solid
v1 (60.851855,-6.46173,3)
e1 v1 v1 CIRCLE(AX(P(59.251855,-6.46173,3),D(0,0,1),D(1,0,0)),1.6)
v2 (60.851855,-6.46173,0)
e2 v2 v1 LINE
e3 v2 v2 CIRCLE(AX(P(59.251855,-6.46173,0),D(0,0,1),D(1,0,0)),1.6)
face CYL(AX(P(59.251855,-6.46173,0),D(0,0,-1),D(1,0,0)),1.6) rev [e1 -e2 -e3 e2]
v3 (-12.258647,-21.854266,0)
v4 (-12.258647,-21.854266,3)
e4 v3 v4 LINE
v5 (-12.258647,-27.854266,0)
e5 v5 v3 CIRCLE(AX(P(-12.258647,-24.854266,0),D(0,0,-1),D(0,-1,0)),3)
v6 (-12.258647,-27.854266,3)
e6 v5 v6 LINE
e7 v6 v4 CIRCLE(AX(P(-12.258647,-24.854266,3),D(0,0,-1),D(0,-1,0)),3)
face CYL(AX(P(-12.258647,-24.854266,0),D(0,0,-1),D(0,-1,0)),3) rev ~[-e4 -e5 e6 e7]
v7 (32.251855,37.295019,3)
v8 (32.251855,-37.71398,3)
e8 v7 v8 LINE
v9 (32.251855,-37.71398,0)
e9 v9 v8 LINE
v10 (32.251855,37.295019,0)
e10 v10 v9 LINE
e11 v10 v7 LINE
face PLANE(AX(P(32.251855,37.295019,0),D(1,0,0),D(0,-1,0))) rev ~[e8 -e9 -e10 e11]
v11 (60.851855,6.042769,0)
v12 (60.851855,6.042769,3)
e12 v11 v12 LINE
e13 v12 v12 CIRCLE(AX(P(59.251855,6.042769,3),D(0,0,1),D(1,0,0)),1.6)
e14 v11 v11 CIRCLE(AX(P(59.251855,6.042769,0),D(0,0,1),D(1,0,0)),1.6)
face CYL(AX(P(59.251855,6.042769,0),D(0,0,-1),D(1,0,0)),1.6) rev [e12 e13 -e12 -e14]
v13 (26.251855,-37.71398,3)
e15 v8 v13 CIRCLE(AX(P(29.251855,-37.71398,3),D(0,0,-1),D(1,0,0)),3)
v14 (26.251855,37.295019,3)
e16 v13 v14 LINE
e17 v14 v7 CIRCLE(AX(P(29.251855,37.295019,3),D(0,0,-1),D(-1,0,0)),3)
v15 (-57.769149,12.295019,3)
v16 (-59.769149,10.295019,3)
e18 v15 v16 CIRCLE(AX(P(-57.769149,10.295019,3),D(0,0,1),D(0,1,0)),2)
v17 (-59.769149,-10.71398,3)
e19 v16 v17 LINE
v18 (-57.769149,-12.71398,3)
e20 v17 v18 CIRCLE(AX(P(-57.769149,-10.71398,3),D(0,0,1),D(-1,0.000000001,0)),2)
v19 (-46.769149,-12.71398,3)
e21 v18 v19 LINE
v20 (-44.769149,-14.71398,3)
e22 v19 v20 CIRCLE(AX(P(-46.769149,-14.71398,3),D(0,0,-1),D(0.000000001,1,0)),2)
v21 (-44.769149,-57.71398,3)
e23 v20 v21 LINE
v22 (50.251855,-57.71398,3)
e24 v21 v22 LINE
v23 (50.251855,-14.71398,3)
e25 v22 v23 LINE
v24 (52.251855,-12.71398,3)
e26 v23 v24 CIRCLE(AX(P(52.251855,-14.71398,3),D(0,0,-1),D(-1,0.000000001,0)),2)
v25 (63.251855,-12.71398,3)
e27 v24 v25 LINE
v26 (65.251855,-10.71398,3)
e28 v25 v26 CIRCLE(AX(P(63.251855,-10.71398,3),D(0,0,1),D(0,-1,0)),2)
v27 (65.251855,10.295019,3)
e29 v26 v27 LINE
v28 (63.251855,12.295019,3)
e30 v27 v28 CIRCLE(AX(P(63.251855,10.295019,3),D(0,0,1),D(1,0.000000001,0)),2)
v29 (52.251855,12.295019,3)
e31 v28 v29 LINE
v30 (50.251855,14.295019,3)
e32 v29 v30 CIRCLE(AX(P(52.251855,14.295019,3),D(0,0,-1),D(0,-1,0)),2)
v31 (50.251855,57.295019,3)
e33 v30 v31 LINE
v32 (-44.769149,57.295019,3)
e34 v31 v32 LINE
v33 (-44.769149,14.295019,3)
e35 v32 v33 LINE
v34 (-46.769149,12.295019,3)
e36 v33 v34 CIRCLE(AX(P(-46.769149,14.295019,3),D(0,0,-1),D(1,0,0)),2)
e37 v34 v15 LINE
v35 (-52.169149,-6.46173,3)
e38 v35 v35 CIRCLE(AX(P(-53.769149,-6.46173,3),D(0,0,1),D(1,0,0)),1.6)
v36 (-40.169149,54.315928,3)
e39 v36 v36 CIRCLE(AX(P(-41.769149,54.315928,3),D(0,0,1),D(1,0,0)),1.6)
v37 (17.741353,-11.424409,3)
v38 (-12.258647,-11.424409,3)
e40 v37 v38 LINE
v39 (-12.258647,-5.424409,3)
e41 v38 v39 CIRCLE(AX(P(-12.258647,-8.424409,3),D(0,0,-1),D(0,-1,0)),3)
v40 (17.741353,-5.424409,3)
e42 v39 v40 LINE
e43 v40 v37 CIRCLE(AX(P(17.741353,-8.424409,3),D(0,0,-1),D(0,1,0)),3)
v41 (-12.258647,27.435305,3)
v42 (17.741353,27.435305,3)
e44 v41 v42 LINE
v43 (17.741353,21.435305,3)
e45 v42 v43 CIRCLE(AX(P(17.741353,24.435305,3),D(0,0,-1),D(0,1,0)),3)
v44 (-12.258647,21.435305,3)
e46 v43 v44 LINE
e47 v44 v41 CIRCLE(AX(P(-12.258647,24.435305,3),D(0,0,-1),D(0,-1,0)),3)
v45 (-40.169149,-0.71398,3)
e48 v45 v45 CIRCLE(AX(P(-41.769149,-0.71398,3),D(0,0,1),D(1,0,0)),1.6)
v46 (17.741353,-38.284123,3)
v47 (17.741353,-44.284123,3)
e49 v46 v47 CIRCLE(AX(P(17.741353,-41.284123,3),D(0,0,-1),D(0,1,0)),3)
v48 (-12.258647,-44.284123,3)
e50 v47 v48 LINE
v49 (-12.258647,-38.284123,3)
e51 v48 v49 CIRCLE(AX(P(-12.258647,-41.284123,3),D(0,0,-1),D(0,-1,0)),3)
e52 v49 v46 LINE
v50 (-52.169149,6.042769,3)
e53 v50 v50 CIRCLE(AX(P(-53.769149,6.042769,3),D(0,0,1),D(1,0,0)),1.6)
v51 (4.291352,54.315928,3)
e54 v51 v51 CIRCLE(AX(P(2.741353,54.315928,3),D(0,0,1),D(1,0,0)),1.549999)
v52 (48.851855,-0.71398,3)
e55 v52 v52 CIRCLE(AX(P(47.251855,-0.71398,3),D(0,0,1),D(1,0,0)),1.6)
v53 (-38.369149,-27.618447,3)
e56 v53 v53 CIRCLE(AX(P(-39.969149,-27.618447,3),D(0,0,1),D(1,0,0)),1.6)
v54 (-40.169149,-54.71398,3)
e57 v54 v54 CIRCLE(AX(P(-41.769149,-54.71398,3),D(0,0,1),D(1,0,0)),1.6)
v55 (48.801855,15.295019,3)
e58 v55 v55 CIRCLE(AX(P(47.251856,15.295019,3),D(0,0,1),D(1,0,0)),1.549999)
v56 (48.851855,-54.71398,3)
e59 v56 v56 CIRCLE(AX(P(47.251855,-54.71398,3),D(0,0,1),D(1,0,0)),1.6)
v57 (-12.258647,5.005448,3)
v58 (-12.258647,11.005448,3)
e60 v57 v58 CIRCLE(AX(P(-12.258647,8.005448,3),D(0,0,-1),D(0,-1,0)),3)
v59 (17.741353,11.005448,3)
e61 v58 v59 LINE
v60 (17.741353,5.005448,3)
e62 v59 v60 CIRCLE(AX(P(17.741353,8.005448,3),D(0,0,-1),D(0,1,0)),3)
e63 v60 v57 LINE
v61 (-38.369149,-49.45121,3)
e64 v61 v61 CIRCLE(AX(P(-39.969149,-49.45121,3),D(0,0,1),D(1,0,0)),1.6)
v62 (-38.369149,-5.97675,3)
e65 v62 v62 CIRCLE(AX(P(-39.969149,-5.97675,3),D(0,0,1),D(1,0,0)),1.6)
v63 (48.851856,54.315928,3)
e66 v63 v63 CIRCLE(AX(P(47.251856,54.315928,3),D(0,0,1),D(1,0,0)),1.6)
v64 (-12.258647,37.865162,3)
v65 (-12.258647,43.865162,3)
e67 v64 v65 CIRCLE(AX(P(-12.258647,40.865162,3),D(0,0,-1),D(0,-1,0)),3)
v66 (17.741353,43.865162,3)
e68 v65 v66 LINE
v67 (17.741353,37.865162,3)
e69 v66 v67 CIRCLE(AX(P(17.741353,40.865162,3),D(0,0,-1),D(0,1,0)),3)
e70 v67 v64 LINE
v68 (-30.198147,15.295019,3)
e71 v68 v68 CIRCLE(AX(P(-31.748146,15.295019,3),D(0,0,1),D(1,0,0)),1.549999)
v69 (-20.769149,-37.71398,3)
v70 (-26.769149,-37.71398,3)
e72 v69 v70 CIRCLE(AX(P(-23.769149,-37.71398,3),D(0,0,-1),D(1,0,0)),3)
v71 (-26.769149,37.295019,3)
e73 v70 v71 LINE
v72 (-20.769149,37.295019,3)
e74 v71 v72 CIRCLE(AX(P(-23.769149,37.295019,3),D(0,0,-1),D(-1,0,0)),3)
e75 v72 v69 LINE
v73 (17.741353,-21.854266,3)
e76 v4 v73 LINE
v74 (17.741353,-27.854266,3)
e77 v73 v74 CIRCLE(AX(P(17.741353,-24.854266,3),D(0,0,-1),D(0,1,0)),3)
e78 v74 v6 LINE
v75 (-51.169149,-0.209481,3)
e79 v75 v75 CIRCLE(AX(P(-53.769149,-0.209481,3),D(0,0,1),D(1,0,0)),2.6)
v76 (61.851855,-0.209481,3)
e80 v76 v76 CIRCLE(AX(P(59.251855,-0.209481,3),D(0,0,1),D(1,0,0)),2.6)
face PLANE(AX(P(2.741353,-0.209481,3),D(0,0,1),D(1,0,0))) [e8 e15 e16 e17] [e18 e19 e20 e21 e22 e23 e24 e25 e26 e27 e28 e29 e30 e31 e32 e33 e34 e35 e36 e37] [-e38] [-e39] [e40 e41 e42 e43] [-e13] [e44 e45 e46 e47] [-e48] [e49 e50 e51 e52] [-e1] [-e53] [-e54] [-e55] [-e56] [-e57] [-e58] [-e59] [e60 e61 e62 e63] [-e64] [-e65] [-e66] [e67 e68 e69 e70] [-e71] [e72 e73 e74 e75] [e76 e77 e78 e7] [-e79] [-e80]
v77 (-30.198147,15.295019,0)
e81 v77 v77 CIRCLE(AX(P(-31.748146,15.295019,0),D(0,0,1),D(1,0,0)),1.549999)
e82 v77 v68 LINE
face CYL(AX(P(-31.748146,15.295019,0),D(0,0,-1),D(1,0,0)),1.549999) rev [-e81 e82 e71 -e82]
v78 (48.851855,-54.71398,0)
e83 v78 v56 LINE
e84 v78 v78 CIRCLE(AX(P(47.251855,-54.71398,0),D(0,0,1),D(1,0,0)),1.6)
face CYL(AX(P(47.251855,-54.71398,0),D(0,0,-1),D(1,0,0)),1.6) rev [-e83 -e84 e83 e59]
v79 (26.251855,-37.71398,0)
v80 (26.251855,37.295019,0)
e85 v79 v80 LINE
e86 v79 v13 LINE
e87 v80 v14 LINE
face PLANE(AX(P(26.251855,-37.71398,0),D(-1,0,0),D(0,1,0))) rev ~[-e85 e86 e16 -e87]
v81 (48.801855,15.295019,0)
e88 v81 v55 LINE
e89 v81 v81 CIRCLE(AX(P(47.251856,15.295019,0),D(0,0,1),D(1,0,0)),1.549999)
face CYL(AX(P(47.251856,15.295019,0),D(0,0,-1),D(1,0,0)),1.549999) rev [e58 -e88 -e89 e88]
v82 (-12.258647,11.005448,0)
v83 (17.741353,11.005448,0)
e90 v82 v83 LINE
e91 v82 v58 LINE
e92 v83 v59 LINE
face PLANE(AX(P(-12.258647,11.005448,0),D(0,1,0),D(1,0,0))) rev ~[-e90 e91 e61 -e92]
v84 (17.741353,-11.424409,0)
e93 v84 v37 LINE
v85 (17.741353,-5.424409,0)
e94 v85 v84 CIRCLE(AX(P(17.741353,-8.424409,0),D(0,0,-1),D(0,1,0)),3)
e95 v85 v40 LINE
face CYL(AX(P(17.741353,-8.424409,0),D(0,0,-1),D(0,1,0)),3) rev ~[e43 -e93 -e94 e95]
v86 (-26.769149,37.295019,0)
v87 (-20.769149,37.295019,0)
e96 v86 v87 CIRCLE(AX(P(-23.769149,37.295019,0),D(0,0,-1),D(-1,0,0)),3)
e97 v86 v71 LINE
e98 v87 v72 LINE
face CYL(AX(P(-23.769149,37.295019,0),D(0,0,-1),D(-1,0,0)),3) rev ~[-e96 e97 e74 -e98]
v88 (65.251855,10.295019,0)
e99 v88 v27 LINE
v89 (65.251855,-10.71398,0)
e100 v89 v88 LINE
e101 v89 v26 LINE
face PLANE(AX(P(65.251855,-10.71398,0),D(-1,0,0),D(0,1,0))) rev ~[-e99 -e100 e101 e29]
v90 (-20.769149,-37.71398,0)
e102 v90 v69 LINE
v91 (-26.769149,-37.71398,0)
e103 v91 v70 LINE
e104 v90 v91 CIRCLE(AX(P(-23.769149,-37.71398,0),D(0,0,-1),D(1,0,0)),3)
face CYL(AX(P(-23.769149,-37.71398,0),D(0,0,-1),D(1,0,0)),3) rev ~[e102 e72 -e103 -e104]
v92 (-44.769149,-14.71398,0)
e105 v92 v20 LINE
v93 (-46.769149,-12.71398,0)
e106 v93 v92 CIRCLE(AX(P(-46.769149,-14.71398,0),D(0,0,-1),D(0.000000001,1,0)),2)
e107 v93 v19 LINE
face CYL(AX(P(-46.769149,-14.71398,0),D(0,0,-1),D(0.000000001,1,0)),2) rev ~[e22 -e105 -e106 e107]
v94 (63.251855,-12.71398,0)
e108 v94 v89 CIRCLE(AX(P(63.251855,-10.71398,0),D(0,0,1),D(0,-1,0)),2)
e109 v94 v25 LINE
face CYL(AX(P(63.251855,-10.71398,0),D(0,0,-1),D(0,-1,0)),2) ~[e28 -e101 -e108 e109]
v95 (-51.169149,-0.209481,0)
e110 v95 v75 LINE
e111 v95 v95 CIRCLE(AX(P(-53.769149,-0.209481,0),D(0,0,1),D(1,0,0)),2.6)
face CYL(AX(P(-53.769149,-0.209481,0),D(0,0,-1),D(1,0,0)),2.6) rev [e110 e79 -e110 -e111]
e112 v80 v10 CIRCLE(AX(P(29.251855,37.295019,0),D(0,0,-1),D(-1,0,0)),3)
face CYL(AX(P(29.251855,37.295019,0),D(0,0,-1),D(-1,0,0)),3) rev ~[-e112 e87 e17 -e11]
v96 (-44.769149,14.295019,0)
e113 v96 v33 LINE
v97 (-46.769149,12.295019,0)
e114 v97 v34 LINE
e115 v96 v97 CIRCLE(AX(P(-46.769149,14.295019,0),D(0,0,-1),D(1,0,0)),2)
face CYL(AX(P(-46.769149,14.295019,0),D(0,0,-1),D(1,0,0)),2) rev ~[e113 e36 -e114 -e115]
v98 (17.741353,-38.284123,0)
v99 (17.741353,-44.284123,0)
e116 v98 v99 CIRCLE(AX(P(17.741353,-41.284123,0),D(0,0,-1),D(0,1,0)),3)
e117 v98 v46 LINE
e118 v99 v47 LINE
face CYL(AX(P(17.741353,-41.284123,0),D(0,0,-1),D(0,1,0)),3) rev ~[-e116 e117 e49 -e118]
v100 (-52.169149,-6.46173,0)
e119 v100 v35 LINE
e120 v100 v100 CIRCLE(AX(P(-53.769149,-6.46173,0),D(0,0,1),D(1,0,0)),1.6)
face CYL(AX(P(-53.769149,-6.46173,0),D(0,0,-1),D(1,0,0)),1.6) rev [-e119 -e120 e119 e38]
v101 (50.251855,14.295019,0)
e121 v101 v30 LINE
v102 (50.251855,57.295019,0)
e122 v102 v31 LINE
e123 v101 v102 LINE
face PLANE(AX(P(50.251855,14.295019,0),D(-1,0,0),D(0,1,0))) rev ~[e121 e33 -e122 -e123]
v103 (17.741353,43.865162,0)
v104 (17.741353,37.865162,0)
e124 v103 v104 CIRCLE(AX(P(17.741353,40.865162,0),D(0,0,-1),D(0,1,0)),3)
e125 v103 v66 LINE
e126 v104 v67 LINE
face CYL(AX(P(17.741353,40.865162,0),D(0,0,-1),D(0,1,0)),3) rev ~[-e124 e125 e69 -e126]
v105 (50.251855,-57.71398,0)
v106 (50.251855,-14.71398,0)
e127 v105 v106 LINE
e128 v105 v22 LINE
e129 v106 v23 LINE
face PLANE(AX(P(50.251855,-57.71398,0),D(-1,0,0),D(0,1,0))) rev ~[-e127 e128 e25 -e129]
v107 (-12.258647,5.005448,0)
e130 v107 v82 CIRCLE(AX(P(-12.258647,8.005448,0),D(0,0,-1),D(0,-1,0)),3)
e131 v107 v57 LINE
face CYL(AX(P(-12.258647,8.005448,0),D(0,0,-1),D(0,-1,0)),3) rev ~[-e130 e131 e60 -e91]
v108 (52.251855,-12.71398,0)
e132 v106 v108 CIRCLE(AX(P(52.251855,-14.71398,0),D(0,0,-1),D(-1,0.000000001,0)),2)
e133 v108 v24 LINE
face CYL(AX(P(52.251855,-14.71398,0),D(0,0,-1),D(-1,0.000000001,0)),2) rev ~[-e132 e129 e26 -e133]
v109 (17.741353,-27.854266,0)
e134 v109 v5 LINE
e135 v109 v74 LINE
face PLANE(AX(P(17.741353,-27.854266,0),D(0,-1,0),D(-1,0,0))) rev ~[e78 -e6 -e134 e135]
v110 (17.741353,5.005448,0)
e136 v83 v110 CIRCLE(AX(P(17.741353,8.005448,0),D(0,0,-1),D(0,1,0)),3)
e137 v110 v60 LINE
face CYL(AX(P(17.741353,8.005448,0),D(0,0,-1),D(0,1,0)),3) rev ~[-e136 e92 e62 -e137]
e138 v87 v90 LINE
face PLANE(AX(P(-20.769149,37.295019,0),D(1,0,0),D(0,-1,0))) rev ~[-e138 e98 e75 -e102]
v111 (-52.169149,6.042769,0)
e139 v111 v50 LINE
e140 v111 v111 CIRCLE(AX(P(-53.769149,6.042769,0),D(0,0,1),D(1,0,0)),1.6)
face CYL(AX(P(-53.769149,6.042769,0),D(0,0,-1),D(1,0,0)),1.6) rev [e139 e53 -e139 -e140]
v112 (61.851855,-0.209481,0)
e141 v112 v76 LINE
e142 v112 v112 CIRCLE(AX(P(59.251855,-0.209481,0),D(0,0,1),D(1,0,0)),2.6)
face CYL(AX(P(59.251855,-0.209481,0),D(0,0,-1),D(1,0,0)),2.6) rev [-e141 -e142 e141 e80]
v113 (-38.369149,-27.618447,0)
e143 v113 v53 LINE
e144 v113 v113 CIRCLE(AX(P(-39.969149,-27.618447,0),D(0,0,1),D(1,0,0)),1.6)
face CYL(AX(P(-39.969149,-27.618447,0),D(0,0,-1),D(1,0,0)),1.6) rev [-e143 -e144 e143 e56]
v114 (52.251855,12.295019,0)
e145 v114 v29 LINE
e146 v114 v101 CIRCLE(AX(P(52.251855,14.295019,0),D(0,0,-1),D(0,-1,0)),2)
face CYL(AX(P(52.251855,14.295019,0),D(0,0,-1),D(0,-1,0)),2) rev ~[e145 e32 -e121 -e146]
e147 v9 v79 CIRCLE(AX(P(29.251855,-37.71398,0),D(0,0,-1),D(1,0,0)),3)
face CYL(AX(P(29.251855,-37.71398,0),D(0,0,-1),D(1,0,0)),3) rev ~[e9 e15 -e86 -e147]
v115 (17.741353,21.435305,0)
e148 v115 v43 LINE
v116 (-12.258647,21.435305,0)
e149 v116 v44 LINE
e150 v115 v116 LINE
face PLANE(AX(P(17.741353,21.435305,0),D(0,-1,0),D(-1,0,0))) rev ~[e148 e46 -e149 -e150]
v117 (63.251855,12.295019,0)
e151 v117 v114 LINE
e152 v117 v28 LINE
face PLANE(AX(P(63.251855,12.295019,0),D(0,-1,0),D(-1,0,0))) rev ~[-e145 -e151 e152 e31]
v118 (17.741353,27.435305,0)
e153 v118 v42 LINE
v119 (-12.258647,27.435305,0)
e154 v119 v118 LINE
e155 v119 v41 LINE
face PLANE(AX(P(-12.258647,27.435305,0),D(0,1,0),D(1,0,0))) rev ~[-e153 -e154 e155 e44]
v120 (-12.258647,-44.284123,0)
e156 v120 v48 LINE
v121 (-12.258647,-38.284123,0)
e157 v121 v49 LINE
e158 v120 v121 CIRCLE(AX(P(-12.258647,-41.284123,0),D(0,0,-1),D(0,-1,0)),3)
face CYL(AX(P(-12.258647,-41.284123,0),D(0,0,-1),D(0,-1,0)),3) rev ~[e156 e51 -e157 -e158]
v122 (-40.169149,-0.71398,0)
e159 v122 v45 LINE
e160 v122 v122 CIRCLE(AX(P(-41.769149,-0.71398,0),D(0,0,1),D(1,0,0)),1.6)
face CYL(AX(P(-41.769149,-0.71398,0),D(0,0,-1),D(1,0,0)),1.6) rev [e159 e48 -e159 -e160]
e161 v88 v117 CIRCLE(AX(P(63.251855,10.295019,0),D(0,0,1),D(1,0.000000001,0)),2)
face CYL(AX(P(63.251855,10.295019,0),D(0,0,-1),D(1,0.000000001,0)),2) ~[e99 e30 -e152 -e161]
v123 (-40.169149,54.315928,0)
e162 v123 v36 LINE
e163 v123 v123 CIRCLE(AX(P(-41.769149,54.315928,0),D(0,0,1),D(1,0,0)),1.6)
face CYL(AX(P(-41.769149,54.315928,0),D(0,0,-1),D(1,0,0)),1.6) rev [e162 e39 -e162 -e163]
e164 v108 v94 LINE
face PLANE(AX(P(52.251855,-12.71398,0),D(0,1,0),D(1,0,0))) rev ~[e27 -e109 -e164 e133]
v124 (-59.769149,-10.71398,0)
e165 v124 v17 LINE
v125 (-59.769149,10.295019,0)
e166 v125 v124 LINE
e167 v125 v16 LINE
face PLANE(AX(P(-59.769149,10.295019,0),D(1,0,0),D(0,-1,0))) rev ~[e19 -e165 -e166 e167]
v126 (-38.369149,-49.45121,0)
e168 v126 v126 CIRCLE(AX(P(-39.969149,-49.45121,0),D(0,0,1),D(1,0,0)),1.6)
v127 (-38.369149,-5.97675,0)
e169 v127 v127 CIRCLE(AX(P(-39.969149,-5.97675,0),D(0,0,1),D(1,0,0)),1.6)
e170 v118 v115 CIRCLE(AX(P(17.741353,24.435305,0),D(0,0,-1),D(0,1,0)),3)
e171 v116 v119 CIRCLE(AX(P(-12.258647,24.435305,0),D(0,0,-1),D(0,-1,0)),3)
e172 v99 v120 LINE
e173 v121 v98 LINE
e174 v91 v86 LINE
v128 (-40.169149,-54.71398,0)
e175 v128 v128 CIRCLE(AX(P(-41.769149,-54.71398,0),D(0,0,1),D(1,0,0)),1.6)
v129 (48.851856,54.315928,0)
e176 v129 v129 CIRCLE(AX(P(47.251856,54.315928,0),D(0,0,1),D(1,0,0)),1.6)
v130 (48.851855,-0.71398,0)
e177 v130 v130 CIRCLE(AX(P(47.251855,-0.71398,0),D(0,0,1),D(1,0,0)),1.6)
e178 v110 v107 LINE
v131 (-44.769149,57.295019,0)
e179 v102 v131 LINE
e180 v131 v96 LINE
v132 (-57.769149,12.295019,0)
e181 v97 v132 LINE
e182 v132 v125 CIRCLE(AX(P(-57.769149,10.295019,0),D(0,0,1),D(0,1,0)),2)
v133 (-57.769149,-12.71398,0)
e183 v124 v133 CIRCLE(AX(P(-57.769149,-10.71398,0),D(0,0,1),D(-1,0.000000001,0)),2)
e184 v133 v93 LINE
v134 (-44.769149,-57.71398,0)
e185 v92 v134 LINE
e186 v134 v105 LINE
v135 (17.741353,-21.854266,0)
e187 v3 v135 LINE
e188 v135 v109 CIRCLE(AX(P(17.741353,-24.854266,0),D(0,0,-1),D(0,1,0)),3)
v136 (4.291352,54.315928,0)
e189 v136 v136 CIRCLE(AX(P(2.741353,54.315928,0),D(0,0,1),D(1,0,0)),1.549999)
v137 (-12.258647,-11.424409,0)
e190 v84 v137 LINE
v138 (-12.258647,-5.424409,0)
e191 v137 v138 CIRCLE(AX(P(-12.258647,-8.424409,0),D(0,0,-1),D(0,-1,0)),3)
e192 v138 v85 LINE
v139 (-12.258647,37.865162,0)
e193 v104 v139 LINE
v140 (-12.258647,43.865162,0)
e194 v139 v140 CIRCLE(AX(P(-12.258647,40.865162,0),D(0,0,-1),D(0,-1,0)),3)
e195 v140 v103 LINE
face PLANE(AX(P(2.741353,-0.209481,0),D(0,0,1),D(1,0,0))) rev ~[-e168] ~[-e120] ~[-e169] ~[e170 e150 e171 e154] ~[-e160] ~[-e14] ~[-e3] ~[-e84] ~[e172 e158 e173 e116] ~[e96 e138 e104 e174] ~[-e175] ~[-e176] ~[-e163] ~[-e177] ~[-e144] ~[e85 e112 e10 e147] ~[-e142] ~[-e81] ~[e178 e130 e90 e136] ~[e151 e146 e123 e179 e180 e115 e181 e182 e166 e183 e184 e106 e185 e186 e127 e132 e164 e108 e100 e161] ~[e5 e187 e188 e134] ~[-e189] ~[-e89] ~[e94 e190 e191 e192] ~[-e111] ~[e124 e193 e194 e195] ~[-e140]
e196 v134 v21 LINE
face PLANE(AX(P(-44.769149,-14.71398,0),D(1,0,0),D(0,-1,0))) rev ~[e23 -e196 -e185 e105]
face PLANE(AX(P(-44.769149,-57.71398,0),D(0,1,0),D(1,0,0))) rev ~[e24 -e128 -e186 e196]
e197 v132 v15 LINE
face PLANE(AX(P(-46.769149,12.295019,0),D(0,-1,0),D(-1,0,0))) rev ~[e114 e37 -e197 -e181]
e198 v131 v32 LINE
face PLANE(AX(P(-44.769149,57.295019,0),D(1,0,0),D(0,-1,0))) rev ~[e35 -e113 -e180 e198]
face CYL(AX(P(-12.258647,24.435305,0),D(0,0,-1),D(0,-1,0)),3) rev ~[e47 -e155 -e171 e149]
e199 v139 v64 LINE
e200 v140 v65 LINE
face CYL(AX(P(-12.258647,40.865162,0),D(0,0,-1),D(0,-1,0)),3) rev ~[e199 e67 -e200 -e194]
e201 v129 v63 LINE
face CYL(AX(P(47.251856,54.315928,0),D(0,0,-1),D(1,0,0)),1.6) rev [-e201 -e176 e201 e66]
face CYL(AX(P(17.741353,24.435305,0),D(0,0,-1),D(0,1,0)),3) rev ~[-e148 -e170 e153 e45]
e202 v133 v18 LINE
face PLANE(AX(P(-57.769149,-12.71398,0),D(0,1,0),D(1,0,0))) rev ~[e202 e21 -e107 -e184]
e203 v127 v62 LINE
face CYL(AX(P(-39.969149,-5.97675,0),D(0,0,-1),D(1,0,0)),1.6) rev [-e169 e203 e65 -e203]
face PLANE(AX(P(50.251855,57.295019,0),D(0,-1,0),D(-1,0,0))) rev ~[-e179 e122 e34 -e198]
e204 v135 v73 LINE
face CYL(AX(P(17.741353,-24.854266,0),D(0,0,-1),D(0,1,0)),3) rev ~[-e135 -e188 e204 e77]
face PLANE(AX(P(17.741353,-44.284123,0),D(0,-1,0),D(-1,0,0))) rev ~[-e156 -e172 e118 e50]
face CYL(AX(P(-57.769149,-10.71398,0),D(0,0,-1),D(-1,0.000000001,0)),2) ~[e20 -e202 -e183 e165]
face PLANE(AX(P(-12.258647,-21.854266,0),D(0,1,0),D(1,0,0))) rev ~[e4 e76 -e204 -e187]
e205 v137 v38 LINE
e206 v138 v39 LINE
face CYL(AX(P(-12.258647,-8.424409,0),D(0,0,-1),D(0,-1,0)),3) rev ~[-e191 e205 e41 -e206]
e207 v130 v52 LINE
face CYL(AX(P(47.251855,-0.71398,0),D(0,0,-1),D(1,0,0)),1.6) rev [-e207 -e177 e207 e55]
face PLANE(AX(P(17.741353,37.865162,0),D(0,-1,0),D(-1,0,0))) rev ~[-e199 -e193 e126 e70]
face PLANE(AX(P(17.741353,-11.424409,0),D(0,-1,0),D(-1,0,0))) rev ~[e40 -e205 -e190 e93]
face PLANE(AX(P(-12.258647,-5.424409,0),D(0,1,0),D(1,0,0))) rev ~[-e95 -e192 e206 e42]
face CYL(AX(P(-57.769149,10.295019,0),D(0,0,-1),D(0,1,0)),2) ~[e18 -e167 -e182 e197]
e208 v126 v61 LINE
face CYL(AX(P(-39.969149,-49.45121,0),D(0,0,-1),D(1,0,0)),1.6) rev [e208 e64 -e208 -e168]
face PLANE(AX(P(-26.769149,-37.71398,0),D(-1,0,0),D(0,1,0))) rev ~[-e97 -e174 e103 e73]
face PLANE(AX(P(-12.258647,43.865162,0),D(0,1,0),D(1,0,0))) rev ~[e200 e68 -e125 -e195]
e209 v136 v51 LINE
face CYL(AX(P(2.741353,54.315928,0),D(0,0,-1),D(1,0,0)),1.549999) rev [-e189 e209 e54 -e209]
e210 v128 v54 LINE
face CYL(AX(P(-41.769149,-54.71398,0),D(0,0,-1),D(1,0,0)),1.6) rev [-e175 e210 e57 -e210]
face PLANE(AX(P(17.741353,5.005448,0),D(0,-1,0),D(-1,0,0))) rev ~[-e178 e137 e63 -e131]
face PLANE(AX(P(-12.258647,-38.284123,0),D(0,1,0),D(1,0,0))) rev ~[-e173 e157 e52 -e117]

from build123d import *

# Parameters (mm, degrees)
SKETCH4_R           = 1.54999944
SKETCH4_R_2         = 1.6
SKETCH4_R_3         = 2.6
BOSS_EXTRUDE6_DEPTH = 3


with BuildPart() as part:
    # Sketch4 → Boss-Extrude6 (new body)
    with BuildSketch(Plane.XY):
        with BuildLine():
            Line((50.251854725, 14.295018861), (50.251854725, 57.295018861))
            Line((50.251854725, 57.295018861), (-44.769148998, 57.295018861))
            Line((-44.769148998, 57.295018861), (-44.769148998, 14.295018861))
            ThreePointArc((-44.769148998, 14.295018861), (-45.354935436, 12.880805298), (-46.769148998, 12.295018861))
            Line((-46.769148998, 12.295018861), (-57.769148998, 12.295018861))
            ThreePointArc((-57.769148998, 12.295018861), (-59.183362561, 11.709232423), (-59.769148998, 10.295018861))
            Line((-59.769148998, 10.295018861), (-59.769148998, -10.71398001))
            ThreePointArc((-59.769148998, -10.71398001), (-59.183362561, -12.128193573), (-57.769148998, -12.71398001))
            Line((-57.769148998, -12.71398001), (-46.769148998, -12.71398001))
            ThreePointArc((-46.769148998, -12.71398001), (-45.354935436, -13.299766448), (-44.769148998, -14.71398001))
            Line((-44.769148998, -14.71398001), (-44.769148998, -57.71398001))
            Line((-44.769148998, -57.71398001), (50.251854725, -57.71398001))
            Line((50.251854725, -57.71398001), (50.251854725, -14.71398001))
            ThreePointArc((50.251854725, -14.71398001), (50.837641163, -13.299766448), (52.251854725, -12.71398001))
            Line((52.251854725, -12.71398001), (63.251854725, -12.71398001))
            ThreePointArc((63.251854725, -12.71398001), (64.666068287, -12.128193573), (65.251854725, -10.71398001))
            Line((65.251854725, -10.71398001), (65.251854725, 10.295018861))
            ThreePointArc((65.251854725, 10.295018861), (64.666068287, 11.709232423), (63.251854725, 12.295018861))
            Line((63.251854725, 12.295018861), (52.251854725, 12.295018861))
            ThreePointArc((52.251854725, 12.295018861), (50.837641163, 12.880805298), (50.251854725, 14.295018861))
        make_face()
        with Locations((47.251855645, 15.295019041)):
            Circle(SKETCH4_R, mode=Mode.SUBTRACT)
        with Locations((2.741352863, 54.315928454)):
            Circle(SKETCH4_R, mode=Mode.SUBTRACT)
        with Locations((-31.748146375, 15.295019041)):
            Circle(SKETCH4_R, mode=Mode.SUBTRACT)
        with Locations((-41.769148998, -0.71398001)):
            Circle(SKETCH4_R_2, mode=Mode.SUBTRACT)
        with Locations((47.251854725, -0.71398001)):
            Circle(SKETCH4_R_2, mode=Mode.SUBTRACT)
        with Locations((-41.769148998, -54.71398001)):
            Circle(SKETCH4_R_2, mode=Mode.SUBTRACT)
        with Locations((47.251854725, -54.71398001)):
            Circle(SKETCH4_R_2, mode=Mode.SUBTRACT)
        with Locations((-39.969148998, -5.97675003)):
            Circle(SKETCH4_R_2, mode=Mode.SUBTRACT)
        with Locations((-39.969148998, -27.618447294)):
            Circle(SKETCH4_R_2, mode=Mode.SUBTRACT)
        with Locations((-39.969148998, -49.451209991)):
            Circle(SKETCH4_R_2, mode=Mode.SUBTRACT)
        with Locations((59.251854725, -0.209480575)):
            Circle(SKETCH4_R_3, mode=Mode.SUBTRACT)
        with Locations((-41.769148998, 54.315928454)):
            Circle(SKETCH4_R_2, mode=Mode.SUBTRACT)
        with Locations((47.251855645, 54.315928454)):
            Circle(SKETCH4_R_2, mode=Mode.SUBTRACT)
        with Locations((59.251854725, 6.042769143)):
            Circle(SKETCH4_R_2, mode=Mode.SUBTRACT)
        with Locations((59.251854725, -6.461730293)):
            Circle(SKETCH4_R_2, mode=Mode.SUBTRACT)
        with Locations((-53.769148998, -0.209480575)):
            Circle(SKETCH4_R_3, mode=Mode.SUBTRACT)
        with Locations((-53.769148998, 6.042769143)):
            Circle(SKETCH4_R_2, mode=Mode.SUBTRACT)
        with Locations((-53.769148998, -6.461730293)):
            Circle(SKETCH4_R_2, mode=Mode.SUBTRACT)
        with BuildLine():
            Line((-12.258647137, 43.865161879), (17.741352863, 43.865161879))
            ThreePointArc((17.741352863, 43.865161879), (20.741352863, 40.865161879), (17.741352863, 37.865161879))
            Line((17.741352863, 37.865161879), (-12.258647137, 37.865161879))
            ThreePointArc((-12.258647137, 37.865161879), (-15.258647137, 40.865161879), (-12.258647137, 43.865161879))
        make_face(mode=Mode.SUBTRACT)
        with BuildLine():
            Line((-12.258647137, 27.435304897), (17.741352863, 27.435304897))
            ThreePointArc((17.741352863, 27.435304897), (20.741352863, 24.435304897), (17.741352863, 21.435304897))
            Line((17.741352863, 21.435304897), (-12.258647137, 21.435304897))
            ThreePointArc((-12.258647137, 21.435304897), (-15.258647137, 24.435304897), (-12.258647137, 27.435304897))
        make_face(mode=Mode.SUBTRACT)
        with BuildLine():
            Line((-12.258647137, 11.005447916), (17.741352863, 11.005447916))
            ThreePointArc((17.741352863, 11.005447916), (20.741352863, 8.005447916), (17.741352863, 5.005447916))
            Line((17.741352863, 5.005447916), (-12.258647137, 5.005447916))
            ThreePointArc((-12.258647137, 5.005447916), (-15.258647137, 8.005447916), (-12.258647137, 11.005447916))
        make_face(mode=Mode.SUBTRACT)
        with BuildLine():
            Line((-12.258647137, -5.424409066), (17.741352863, -5.424409066))
            ThreePointArc((17.741352863, -5.424409066), (20.741352863, -8.424409066), (17.741352863, -11.424409066))
            Line((17.741352863, -11.424409066), (-12.258647137, -11.424409066))
            ThreePointArc((-12.258647137, -11.424409066), (-15.258647137, -8.424409066), (-12.258647137, -5.424409066))
        make_face(mode=Mode.SUBTRACT)
        with BuildLine():
            Line((-12.258647137, -21.854266047), (17.741352863, -21.854266047))
            ThreePointArc((17.741352863, -21.854266047), (20.741352863, -24.854266047), (17.741352863, -27.854266047))
            Line((17.741352863, -27.854266047), (-12.258647137, -27.854266047))
            ThreePointArc((-12.258647137, -27.854266047), (-15.258647137, -24.854266047), (-12.258647137, -21.854266047))
        make_face(mode=Mode.SUBTRACT)
        with BuildLine():
            Line((-12.258647137, -38.284123029), (17.741352863, -38.284123029))
            ThreePointArc((17.741352863, -38.284123029), (20.741352863, -41.284123029), (17.741352863, -44.284123029))
            Line((17.741352863, -44.284123029), (-12.258647137, -44.284123029))
            ThreePointArc((-12.258647137, -44.284123029), (-15.258647137, -41.284123029), (-12.258647137, -38.284123029))
        make_face(mode=Mode.SUBTRACT)
        with BuildLine():
            Line((-20.769148998, 37.295018861), (-20.769148998, -37.71398001))
            ThreePointArc((-20.769148998, -37.71398001), (-23.769148998, -40.71398001), (-26.769148998, -37.71398001))
            Line((-26.769148998, -37.71398001), (-26.769148998, 37.295018861))
            ThreePointArc((-26.769148998, 37.295018861), (-23.769148998, 40.295018861), (-20.769148998, 37.295018861))
        make_face(mode=Mode.SUBTRACT)
        with BuildLine():
            Line((32.251854725, 37.295018861), (32.251854725, -37.71398001))
            ThreePointArc((32.251854725, -37.71398001), (29.251854725, -40.71398001), (26.251854725, -37.71398001))
            Line((26.251854725, -37.71398001), (26.251854725, 37.295018861))
            ThreePointArc((26.251854725, 37.295018861), (29.251854725, 40.295018861), (32.251854725, 37.295018861))
        make_face(mode=Mode.SUBTRACT)
    extrude(amount=BOSS_EXTRUDE6_DEPTH)


solid = part.part
